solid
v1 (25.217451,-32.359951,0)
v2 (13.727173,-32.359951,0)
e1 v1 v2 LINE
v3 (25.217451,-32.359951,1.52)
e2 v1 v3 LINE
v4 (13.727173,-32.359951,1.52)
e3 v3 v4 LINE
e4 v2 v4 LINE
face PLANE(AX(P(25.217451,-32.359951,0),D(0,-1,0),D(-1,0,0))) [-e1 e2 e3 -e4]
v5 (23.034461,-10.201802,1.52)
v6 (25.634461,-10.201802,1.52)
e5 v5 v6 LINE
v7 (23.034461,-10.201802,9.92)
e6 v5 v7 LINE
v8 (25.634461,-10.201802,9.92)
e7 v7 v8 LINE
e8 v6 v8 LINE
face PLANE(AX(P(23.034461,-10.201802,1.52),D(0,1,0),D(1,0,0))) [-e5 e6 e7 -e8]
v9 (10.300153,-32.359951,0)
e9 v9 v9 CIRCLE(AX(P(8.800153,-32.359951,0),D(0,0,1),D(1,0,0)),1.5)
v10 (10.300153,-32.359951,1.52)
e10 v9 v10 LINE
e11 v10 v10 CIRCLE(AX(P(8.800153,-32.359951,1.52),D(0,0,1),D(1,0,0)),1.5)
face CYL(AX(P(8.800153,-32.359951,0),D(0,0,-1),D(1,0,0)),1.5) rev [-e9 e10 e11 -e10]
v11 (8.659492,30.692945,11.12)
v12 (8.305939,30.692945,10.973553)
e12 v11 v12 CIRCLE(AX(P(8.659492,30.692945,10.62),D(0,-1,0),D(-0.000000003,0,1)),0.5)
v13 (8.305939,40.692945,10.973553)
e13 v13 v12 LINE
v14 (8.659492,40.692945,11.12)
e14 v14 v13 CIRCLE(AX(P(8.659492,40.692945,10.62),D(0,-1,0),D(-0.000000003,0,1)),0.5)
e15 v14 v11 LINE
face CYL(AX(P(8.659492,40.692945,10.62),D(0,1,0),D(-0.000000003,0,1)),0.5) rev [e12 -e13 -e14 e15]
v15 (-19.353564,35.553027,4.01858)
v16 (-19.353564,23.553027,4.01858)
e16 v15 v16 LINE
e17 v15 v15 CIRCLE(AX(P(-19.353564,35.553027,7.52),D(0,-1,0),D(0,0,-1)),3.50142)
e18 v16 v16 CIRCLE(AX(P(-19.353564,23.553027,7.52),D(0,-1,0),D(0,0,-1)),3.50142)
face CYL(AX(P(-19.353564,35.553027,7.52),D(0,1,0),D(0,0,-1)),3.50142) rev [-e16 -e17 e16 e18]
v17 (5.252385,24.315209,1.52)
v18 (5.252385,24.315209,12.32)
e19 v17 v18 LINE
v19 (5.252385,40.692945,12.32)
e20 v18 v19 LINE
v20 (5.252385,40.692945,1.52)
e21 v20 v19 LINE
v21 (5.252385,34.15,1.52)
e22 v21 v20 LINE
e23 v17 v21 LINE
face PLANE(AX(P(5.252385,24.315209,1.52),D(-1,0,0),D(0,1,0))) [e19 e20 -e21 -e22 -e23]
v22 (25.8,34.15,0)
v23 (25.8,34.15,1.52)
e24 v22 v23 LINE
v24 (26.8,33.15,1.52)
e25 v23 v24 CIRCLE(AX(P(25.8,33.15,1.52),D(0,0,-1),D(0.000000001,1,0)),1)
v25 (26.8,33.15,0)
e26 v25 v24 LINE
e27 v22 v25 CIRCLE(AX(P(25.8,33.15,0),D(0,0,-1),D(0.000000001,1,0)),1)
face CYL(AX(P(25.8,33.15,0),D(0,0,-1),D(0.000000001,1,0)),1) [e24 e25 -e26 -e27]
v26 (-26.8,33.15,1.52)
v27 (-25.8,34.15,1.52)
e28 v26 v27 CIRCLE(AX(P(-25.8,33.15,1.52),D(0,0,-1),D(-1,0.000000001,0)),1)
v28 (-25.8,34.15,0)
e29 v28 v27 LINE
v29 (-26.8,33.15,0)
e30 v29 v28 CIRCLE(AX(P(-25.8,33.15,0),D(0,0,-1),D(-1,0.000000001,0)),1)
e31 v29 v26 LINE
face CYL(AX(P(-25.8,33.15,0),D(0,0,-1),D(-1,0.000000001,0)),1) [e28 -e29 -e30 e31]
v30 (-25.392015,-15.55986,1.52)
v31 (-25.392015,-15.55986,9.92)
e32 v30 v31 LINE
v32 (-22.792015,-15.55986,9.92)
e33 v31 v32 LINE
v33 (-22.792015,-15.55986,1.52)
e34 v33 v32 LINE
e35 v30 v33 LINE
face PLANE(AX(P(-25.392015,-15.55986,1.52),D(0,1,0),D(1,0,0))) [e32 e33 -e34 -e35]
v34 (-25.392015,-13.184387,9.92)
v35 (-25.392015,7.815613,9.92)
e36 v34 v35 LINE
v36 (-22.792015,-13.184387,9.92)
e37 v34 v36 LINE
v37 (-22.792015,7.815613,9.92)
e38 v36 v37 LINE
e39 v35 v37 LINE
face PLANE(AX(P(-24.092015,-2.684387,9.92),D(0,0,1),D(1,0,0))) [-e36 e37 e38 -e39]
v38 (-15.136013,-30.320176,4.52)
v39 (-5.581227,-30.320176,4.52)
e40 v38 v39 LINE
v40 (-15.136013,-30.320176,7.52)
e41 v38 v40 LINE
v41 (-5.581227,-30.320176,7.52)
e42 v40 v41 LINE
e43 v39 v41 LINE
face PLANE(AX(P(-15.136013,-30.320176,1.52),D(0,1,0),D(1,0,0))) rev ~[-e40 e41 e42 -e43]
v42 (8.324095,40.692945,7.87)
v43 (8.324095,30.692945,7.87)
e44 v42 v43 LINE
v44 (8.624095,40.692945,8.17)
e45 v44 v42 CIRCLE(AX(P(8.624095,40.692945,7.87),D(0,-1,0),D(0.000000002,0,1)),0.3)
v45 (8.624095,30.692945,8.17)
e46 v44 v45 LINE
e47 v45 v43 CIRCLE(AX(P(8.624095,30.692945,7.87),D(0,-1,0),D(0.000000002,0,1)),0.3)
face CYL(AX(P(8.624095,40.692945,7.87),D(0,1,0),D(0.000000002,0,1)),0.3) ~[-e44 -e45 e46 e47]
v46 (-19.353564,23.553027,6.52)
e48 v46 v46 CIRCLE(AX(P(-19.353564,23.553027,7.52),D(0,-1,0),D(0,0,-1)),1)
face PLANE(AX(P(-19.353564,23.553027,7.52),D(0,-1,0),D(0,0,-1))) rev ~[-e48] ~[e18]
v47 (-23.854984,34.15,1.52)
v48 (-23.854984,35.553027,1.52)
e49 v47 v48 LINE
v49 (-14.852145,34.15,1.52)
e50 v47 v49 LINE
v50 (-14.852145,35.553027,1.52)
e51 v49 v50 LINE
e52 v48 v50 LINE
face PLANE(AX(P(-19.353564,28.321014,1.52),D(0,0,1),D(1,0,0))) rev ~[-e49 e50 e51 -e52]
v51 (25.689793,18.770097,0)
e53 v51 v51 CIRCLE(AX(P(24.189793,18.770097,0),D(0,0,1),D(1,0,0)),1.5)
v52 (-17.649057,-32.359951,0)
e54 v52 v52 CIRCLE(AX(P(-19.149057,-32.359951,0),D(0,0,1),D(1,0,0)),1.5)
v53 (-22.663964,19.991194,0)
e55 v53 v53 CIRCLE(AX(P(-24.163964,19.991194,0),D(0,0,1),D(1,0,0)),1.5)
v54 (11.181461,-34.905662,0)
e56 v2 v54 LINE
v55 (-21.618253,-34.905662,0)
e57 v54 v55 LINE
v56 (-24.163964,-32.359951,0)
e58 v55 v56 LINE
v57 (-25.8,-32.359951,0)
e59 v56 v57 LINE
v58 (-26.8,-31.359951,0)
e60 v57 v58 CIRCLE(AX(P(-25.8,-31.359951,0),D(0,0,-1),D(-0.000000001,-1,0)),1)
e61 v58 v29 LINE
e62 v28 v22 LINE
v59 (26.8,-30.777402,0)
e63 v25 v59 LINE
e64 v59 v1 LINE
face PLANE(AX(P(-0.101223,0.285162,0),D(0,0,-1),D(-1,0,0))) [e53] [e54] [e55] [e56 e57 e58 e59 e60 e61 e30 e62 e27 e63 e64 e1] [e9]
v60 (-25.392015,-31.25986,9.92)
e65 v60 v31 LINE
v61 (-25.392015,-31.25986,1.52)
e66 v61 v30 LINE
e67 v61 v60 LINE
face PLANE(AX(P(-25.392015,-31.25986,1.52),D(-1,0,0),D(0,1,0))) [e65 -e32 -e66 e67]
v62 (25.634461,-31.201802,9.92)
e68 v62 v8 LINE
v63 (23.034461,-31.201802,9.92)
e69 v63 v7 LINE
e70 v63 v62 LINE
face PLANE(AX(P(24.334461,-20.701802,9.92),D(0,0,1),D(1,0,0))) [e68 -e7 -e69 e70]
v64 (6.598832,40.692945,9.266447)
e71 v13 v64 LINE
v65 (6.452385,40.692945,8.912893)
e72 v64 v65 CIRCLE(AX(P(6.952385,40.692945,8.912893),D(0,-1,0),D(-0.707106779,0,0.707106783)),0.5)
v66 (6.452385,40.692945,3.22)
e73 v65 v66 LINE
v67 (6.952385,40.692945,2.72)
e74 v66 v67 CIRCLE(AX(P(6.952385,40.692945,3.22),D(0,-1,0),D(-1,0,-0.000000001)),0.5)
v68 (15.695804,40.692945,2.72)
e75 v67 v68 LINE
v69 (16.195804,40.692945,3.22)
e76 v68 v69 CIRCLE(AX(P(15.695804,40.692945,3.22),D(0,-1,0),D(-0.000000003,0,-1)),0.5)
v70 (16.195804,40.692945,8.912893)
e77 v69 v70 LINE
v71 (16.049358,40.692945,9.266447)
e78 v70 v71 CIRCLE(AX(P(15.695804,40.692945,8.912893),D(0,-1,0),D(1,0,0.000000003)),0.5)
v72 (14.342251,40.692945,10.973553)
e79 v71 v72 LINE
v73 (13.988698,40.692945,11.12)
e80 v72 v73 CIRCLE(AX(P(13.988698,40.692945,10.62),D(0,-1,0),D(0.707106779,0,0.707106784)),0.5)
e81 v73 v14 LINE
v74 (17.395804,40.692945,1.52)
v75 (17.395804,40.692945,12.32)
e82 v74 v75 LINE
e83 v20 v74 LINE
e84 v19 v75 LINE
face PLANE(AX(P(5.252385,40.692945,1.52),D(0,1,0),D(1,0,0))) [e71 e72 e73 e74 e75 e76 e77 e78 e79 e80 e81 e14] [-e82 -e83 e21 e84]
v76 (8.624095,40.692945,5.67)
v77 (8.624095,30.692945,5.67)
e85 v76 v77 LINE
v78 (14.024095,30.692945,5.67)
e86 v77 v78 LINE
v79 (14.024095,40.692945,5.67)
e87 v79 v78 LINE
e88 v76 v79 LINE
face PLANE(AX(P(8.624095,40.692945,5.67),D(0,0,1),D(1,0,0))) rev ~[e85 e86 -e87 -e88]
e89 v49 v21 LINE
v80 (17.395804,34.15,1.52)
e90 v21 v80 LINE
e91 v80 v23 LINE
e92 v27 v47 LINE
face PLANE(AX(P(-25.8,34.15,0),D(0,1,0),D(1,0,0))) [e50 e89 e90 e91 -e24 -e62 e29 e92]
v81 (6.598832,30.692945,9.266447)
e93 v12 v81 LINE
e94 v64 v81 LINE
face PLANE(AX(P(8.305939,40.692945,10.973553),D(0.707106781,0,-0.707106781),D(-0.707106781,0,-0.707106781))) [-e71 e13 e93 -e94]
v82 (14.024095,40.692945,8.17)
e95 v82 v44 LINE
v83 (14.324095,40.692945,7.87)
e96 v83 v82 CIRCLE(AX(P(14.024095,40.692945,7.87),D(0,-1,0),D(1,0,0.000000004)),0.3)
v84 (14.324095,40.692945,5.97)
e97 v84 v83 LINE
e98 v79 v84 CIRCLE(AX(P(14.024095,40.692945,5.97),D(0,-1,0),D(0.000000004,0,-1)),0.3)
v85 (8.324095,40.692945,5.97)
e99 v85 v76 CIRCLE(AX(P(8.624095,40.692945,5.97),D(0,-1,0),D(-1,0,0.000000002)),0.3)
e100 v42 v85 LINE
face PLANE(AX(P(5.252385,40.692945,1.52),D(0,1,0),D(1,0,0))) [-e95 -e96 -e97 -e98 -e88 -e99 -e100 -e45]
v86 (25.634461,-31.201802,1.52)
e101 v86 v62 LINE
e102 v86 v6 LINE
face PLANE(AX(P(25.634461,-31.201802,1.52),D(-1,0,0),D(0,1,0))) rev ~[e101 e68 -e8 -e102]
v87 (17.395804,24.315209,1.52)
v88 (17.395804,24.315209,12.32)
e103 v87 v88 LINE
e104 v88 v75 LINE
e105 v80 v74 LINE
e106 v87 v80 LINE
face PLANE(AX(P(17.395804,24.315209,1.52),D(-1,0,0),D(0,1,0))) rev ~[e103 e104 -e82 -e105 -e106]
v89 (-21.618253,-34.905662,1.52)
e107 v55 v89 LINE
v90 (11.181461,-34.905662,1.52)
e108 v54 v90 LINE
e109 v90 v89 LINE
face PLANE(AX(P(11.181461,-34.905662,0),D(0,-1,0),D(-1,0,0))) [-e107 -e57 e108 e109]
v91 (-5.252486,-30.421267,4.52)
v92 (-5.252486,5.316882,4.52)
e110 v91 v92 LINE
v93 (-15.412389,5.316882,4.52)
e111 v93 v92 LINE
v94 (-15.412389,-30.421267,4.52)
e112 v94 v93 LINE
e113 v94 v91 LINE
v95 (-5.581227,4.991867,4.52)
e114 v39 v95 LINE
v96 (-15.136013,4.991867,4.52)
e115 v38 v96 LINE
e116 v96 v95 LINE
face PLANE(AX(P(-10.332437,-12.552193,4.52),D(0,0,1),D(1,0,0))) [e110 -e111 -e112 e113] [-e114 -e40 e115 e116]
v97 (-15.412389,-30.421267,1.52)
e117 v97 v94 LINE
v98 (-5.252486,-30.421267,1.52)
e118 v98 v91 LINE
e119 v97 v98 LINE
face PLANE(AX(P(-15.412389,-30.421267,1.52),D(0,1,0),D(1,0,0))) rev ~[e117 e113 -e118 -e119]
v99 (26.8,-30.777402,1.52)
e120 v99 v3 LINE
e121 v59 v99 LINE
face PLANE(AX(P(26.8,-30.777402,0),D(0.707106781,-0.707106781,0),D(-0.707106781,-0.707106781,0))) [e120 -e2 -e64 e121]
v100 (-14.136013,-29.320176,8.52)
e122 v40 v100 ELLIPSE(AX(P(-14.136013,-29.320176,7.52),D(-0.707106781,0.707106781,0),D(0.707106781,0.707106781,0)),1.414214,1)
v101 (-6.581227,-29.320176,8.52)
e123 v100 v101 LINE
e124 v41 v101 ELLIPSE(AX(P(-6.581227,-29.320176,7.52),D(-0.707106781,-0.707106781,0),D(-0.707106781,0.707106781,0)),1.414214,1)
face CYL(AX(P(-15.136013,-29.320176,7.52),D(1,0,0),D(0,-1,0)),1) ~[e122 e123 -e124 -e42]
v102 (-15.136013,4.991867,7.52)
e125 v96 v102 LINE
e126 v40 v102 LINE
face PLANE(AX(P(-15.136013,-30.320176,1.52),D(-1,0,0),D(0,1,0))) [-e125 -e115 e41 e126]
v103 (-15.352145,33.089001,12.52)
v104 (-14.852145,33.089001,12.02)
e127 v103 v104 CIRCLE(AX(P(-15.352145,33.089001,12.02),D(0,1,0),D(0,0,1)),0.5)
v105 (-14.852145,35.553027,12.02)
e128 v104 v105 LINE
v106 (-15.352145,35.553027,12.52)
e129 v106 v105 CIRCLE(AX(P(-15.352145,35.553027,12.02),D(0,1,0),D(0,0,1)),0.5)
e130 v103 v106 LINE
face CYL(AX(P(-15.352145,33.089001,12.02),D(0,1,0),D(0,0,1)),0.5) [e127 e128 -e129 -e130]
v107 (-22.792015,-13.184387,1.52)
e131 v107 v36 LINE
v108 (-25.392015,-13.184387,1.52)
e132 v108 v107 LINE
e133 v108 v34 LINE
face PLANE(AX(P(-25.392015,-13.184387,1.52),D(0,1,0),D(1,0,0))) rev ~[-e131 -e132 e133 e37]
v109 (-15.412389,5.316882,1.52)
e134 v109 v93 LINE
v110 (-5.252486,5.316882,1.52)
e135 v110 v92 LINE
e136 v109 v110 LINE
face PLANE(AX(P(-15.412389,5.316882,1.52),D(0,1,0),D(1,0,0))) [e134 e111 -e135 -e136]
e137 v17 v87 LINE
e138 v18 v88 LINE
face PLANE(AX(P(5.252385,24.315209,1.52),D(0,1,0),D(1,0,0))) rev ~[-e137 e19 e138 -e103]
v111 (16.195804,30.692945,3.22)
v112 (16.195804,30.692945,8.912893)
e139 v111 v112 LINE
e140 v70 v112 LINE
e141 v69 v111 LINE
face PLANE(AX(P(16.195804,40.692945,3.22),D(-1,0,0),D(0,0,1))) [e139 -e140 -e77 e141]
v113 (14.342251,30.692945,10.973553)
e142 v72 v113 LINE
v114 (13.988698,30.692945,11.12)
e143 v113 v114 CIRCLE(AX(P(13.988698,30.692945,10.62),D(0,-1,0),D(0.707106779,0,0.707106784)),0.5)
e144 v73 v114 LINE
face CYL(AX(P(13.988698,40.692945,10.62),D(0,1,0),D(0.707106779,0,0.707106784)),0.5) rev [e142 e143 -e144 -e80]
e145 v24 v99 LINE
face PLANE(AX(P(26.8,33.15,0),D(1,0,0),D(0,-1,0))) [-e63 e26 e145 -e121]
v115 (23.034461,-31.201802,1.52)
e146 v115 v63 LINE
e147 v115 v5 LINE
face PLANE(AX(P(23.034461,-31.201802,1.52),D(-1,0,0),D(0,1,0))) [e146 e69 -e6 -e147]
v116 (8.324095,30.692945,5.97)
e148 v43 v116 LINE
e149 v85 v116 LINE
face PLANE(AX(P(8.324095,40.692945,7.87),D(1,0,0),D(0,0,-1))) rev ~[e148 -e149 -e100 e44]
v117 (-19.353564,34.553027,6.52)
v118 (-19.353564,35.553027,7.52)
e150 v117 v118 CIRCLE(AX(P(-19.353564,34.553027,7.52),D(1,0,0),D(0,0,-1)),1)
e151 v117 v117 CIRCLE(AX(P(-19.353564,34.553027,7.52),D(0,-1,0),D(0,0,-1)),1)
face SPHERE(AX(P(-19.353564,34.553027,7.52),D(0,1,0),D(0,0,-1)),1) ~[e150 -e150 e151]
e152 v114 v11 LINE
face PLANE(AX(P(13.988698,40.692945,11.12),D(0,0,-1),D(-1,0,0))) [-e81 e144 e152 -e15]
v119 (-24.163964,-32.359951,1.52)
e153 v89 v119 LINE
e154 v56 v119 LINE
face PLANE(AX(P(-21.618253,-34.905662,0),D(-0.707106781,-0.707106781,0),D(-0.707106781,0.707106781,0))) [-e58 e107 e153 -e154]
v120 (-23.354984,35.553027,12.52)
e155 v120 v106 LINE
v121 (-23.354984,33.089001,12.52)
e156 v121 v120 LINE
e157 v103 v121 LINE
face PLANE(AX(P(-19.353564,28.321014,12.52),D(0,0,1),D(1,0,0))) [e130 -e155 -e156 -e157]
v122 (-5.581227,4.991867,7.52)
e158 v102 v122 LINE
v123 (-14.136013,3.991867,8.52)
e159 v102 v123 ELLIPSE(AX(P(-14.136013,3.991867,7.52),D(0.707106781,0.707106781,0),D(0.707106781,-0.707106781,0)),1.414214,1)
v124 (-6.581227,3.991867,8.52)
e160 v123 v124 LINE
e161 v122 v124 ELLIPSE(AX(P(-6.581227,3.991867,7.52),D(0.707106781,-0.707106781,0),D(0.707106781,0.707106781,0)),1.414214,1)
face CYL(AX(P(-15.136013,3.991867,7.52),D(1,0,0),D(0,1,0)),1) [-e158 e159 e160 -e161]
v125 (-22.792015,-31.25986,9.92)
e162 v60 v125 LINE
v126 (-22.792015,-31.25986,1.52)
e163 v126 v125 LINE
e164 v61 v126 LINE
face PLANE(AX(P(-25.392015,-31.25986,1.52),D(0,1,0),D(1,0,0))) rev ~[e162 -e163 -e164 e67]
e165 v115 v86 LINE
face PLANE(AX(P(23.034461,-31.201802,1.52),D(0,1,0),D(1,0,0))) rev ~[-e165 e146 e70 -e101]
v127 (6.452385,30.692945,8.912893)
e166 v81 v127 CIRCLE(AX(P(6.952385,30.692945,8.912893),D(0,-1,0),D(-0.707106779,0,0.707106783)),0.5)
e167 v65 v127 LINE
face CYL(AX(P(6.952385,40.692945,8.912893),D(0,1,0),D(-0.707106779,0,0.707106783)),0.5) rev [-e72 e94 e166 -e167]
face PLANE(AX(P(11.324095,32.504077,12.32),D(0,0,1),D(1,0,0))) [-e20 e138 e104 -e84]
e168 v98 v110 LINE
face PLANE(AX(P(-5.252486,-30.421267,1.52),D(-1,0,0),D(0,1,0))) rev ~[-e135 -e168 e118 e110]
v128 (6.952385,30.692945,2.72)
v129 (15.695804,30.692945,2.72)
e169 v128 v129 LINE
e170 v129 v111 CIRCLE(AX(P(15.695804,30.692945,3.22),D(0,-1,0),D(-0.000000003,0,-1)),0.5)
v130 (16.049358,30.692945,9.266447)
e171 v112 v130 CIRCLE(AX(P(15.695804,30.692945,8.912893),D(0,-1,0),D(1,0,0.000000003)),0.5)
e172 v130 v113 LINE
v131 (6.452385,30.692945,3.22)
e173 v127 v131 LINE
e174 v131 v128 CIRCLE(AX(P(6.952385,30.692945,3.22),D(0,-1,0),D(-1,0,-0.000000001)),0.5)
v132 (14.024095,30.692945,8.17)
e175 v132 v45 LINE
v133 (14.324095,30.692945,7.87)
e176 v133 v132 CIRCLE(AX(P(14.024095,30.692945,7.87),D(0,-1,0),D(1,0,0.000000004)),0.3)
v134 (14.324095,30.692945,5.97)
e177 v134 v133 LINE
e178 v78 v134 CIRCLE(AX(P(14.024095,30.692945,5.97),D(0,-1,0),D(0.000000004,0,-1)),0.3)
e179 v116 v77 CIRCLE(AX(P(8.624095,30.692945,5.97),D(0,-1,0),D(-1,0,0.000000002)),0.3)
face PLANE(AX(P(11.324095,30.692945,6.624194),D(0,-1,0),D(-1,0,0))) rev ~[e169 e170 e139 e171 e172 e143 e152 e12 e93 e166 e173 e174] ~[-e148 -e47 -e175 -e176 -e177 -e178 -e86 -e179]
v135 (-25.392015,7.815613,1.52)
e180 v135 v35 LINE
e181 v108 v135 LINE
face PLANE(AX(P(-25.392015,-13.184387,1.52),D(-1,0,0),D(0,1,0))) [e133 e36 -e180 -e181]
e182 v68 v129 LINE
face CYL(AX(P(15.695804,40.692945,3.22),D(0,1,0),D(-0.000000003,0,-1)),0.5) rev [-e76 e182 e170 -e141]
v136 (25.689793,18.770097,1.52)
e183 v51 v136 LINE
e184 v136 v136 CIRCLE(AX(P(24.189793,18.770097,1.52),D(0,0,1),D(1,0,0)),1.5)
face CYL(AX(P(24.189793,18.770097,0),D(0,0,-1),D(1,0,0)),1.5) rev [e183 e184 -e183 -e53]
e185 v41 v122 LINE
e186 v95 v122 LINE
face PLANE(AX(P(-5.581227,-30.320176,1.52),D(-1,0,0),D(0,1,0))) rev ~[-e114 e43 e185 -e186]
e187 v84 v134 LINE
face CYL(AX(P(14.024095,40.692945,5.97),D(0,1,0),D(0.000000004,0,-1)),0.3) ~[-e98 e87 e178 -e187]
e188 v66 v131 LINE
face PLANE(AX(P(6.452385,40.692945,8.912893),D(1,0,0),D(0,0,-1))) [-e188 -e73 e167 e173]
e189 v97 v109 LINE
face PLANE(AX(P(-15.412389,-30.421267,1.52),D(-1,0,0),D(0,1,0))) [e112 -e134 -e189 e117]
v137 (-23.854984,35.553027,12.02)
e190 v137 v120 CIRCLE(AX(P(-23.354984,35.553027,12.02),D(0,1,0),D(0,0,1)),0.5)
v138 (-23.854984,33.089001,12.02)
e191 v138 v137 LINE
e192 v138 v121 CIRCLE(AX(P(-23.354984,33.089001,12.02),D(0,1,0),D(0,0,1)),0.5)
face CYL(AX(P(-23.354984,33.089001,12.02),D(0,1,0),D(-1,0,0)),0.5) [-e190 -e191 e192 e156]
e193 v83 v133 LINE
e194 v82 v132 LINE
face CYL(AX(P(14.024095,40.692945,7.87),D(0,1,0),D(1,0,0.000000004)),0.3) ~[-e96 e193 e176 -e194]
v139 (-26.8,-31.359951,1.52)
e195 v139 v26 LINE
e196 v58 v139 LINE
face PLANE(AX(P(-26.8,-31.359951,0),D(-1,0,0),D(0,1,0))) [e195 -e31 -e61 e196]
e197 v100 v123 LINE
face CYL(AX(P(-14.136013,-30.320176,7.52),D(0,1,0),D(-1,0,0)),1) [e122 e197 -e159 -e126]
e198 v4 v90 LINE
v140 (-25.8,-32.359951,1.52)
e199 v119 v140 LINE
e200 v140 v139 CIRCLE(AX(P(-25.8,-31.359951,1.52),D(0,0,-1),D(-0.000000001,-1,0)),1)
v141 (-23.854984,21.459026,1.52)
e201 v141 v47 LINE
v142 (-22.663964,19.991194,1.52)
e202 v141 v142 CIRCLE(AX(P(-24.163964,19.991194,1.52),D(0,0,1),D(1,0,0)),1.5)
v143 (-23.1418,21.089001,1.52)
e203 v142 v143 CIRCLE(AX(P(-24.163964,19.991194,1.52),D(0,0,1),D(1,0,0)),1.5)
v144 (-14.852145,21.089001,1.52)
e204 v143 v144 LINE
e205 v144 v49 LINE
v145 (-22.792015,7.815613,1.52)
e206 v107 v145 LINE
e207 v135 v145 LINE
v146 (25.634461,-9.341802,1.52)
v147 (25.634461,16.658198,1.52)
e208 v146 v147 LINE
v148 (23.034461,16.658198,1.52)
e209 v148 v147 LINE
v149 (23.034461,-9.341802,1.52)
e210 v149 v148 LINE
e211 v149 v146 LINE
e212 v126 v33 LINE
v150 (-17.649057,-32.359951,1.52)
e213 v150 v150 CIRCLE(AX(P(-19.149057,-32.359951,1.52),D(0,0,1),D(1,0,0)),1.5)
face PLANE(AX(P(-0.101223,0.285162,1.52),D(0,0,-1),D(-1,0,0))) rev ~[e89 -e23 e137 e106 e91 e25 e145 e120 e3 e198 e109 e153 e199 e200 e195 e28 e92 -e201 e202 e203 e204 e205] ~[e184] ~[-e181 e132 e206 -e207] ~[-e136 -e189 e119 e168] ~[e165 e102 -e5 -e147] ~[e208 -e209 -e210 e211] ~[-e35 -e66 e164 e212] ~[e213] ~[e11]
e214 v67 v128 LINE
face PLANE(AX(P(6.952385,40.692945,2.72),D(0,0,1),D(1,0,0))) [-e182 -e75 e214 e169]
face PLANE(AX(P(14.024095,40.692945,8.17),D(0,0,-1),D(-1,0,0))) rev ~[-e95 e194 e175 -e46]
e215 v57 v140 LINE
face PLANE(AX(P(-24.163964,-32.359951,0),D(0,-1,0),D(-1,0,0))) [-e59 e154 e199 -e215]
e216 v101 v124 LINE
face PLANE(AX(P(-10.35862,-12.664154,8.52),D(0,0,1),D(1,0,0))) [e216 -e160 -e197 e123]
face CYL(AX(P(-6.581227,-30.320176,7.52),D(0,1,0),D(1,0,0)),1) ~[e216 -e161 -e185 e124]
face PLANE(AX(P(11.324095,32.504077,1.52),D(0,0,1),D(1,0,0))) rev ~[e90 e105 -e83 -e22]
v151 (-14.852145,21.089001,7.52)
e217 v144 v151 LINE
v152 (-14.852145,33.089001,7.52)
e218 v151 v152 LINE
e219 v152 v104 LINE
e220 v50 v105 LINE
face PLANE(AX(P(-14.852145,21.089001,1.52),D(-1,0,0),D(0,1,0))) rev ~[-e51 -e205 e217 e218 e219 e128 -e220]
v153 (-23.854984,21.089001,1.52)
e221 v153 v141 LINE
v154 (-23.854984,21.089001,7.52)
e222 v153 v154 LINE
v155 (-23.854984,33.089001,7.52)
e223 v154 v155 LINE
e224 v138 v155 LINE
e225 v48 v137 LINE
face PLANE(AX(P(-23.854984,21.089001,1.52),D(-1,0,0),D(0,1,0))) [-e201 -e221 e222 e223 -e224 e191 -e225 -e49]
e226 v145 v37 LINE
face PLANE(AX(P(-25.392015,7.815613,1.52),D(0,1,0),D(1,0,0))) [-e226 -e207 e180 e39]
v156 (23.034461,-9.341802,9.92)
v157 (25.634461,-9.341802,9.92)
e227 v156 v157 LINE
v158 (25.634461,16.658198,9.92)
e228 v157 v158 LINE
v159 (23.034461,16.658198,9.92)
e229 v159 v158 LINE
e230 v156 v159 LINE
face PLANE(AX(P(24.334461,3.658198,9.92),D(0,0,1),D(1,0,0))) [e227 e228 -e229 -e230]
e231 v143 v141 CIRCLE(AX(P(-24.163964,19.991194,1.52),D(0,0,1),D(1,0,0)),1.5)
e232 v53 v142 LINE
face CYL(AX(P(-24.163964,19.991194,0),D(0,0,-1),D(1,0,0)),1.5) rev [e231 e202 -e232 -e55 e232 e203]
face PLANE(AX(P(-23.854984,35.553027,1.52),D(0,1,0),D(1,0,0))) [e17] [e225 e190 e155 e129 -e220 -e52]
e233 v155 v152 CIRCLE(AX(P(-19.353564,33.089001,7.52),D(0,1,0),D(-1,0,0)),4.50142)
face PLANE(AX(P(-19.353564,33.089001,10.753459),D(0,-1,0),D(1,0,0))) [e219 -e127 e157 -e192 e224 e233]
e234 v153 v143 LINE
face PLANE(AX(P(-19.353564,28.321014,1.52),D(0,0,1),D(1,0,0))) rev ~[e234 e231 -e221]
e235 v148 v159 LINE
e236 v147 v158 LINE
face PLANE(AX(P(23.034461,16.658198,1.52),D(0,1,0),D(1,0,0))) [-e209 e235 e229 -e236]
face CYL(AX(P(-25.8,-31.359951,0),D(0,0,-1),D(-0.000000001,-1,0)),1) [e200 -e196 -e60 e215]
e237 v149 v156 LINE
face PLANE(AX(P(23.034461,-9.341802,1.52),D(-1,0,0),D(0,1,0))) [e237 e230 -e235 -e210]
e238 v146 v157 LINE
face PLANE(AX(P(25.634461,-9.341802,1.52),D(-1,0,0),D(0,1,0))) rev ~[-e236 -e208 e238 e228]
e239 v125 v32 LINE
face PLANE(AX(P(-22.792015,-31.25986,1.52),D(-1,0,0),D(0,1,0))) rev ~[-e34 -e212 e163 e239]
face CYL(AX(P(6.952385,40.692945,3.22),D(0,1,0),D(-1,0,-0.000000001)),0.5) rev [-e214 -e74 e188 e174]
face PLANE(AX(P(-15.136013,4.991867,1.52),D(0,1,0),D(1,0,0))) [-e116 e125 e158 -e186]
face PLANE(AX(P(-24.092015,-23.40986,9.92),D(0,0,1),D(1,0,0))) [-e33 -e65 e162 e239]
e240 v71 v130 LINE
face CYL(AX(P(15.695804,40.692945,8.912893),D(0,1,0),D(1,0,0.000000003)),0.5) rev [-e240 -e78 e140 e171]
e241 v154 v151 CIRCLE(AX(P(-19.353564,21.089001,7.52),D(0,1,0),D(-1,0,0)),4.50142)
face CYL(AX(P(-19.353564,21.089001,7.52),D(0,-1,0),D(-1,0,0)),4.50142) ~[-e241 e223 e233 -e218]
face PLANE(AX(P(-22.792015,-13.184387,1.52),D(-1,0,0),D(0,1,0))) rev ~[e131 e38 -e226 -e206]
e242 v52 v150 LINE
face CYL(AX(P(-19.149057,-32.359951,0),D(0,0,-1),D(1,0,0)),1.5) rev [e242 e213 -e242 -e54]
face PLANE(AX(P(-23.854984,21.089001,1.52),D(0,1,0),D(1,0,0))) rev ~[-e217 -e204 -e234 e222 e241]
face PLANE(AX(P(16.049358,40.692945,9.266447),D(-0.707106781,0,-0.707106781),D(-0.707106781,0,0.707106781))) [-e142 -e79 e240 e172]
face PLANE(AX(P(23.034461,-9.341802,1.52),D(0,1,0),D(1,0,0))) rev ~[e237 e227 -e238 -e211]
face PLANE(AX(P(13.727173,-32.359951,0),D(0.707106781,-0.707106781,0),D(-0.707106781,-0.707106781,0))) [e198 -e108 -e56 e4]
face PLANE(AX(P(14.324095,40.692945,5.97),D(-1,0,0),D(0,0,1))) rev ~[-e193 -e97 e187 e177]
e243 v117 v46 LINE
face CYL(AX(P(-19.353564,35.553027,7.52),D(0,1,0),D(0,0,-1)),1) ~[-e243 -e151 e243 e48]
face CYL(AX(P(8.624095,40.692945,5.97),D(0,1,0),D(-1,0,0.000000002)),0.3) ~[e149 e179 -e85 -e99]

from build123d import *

# Parameters (mm, degrees)
ESBO_O2_R                = 1.5
RESSALTO_EXTRUS_O1_DEPTH = 1.52
ESBO_O3_W                = 9.002839431
ESBO_O3_H                = 14.464026403
RESSALTO_EXTRUS_O2_DEPTH = 11
ESBO_O4_W                = 2.6
ESBO_O4_H                = 21
ESBO_O4_H_2              = 26
ESBO_O4_H_3              = 15.7
RESSALTO_EXTRUS_O3_DEPTH = 8.4
CORTE_EXTRUS_O1_DEPTH    = 12
ESBO_O6_R                = 3.501419715
ESBO_O6_R_2              = 1
CORTE_EXTRUS_O2_DEPTH    = 12
FILETE1_R                = 1
FILETE2_R                = 0.5
ESBO_O7_W                = 12.143418905
ESBO_O7_H                = 16.377735741
RESSALTO_EXTRUS_O4_DEPTH = 10.8
CORTE_EXTRUS_O3_DEPTH    = 10
ESBO_O10_W               = 9.554785471
ESBO_O10_H               = 35.312042965
RESSALTO_EXTRUS_O5_DEPTH = 7
FILETE3_R                = 1
ESBO_O11_W               = 10.159902464
ESBO_O11_H               = 35.738148994
RESSALTO_EXTRUS_O6_DEPTH = 3


with BuildPart() as part:
    # Esboço2 → Ressalto-extrusão1 (new body)
    with BuildSketch(Plane.XY):
        with BuildLine():
            Line((26.8, -30.777402322), (25.217451408, -32.359950915))
            Line((25.217451408, -32.359950915), (13.7271729, -32.359950915))
            Line((13.7271729, -32.359950915), (11.181461411, -34.905662403))
            Line((11.181461411, -34.905662403), (-21.61825292, -34.905662403))
            Line((-21.61825292, -34.905662403), (-24.163964409, -32.359950915))
            Line((-24.163964409, -32.359950915), (-25.8, -32.359950915))
            ThreePointArc((-25.8, -32.359950915), (-26.507106781, -32.067057696), (-26.8, -31.359950915))
            Line((-26.8, -31.359950915), (-26.8, 33.15))
            ThreePointArc((-26.8, 33.15), (-26.507106781, 33.857106781), (-25.8, 34.15))
            Line((-25.8, 34.15), (25.8, 34.15))
            ThreePointArc((25.8, 34.15), (26.507106781, 33.857106781), (26.8, 33.15))
            Line((26.8, 33.15), (26.8, -30.777402322))
        make_face()
        with Locations((24.189792897, 18.770096718)):
            Circle(ESBO_O2_R, mode=Mode.SUBTRACT)
        with Locations((-24.163964409, 19.991194307)):
            Circle(ESBO_O2_R, mode=Mode.SUBTRACT)
        with Locations((-19.149057151, -32.359950915)):
            Circle(ESBO_O2_R, mode=Mode.SUBTRACT)
        with Locations((8.800152978, -32.359950915)):
            Circle(ESBO_O2_R, mode=Mode.SUBTRACT)
    extrude(amount=RESSALTO_EXTRUS_O1_DEPTH)

    # Esboço3 → Ressalto-extrusão2 (add)
    with BuildSketch(Plane.XY.offset(1.52)):
        with Locations((-19.353564393, 28.321014274)):
            Rectangle(ESBO_O3_W, ESBO_O3_H)
    extrude(amount=RESSALTO_EXTRUS_O2_DEPTH)

    # Esboço4 → Ressalto-extrusão3 (add)
    with BuildSketch(Plane.XY.offset(1.52)):
        with Locations((24.334460994, -20.701802403)):
            Rectangle(ESBO_O4_W, ESBO_O4_H)
        with Locations((24.334460994, 3.658197597)):
            Rectangle(ESBO_O4_W, ESBO_O4_H_2)
        with Locations((-24.092015344, -2.684387248)):
            Rectangle(ESBO_O4_W, ESBO_O4_H)
        with Locations((-24.092015344, -23.409860345)):
            Rectangle(ESBO_O4_W, ESBO_O4_H_3)
    extrude(amount=RESSALTO_EXTRUS_O3_DEPTH)

    # Esboço5 → Corte-extrusão1 (cut)
    with BuildSketch(Plane.XZ.offset(-21.089001072)):
        with BuildLine():
            Line((-14.852144677, 7.52), (-14.852144677, 12.52))
            Line((-14.852144677, 12.52), (-23.854984108, 12.52))
            Line((-23.854984108, 12.52), (-23.854984108, 7.52))
            ThreePointArc((-23.854984108, 7.52), (-19.353564393, 12.021419715), (-14.852144677, 7.52))
        make_face()
    extrude(amount=-CORTE_EXTRUS_O1_DEPTH, mode=Mode.SUBTRACT)

    # Esboço6 → Corte-extrusão2 (cut)
    with BuildSketch(Plane.XZ.offset(-35.553027475)):
        with Locations(Location((-19.353564393, 7.52, 0), (0, 0, 270))):
            Circle(ESBO_O6_R)
        with Locations(Location((-19.353564393, 7.52, 0), (0, 0, 270))):
            Circle(ESBO_O6_R_2, mode=Mode.SUBTRACT)
    extrude(amount=CORTE_EXTRUS_O2_DEPTH, mode=Mode.SUBTRACT)

    # Filete1
    filete1_edges = [part.edges().sort_by_distance(p)[0] for p in [
        (-19.353564393, 35.553027475, 8.52),
    ]]
    fillet(filete1_edges, radius=FILETE1_R)

    # Filete2
    filete2_edges = [part.edges().sort_by_distance(p)[0] for p in [
        (-14.852144677, 34.321014274, 12.52),
        (-23.854984108, 34.321014274, 12.52),
    ]]
    fillet(filete2_edges, radius=FILETE2_R)

    # Esboço7 → Ressalto-extrusão4 (add)
    with BuildSketch(Plane.XY.offset(1.52)):
        with Locations((11.324094847, 32.5040773)):
            Rectangle(ESBO_O7_W, ESBO_O7_H)
    extrude(amount=RESSALTO_EXTRUS_O4_DEPTH)

    # Esboço9 → Corte-extrusão3 (cut)
    with BuildSketch(Plane(origin=(0, 40.69294517, 0), x_dir=(1, 0, 0), z_dir=(0, 1, 0))):
        with BuildLine():
            Line((6.952385394, -2.72), (15.695804299, -2.72))
            ThreePointArc((15.695804299, -2.72), (16.04935769, -2.866446609), (16.195804299, -3.22))
            Line((16.195804299, -3.22), (16.195804299, -8.912893219))
            ThreePointArc((16.195804299, -8.912893219), (16.157744065, -9.104234935), (16.04935769, -9.266446609))
            Line((16.04935769, -9.266446609), (14.342250908, -10.973553391))
            ThreePointArc((14.342250908, -10.973553391), (14.180039234, -11.081939766), (13.988697518, -11.12))
            Line((13.988697518, -11.12), (8.659492175, -11.12))
            ThreePointArc((8.659492175, -11.12), (8.468150459, -11.081939766), (8.305938785, -10.973553391))
            Line((8.305938785, -10.973553391), (6.598832004, -9.266446609))
            ThreePointArc((6.598832004, -9.266446609), (6.490445628, -9.104234935), (6.452385394, -8.912893219))
            Line((6.452385394, -8.912893219), (6.452385394, -3.22))
            ThreePointArc((6.452385394, -3.22), (6.598832004, -2.866446609), (6.952385394, -2.72))
        make_face()
        with BuildLine():
            Line((14.024094847, -8.17), (8.624094847, -8.17))
            ThreePointArc((8.624094847, -8.17), (8.411962812, -8.082132034), (8.324094847, -7.87))
            Line((8.324094847, -7.87), (8.324094847, -5.97))
            ThreePointArc((8.324094847, -5.97), (8.411962812, -5.757867966), (8.624094847, -5.67))
            Line((8.624094847, -5.67), (14.024094847, -5.67))
            ThreePointArc((14.024094847, -5.67), (14.236226881, -5.757867966), (14.324094847, -5.97))
            Line((14.324094847, -5.97), (14.324094847, -7.87))
            ThreePointArc((14.324094847, -7.87), (14.236226881, -8.082132034), (14.024094847, -8.17))
        make_face(mode=Mode.SUBTRACT)
    extrude(amount=-CORTE_EXTRUS_O3_DEPTH, mode=Mode.SUBTRACT)

    # Esboço10 → Ressalto-extrusão5 (add)
    with BuildSketch(Plane.XY.offset(1.52)):
        with Locations((-10.358620196, -12.664154249)):
            Rectangle(ESBO_O10_W, ESBO_O10_H)
    extrude(amount=RESSALTO_EXTRUS_O5_DEPTH)

    # Filete3
    filete3_edges = [part.edges().sort_by_distance(p)[0] for p in [
        (-5.58122746, -12.664154249, 8.52),
        (-10.358620195, 4.991867234, 8.52),
        (-15.136012931, -12.664154249, 8.52),
        (-10.358620195, -30.320175731, 8.52),
    ]]
    fillet(filete3_edges, radius=FILETE3_R)

    # Esboço11 → Ressalto-extrusão6 (add)
    with BuildSketch(Plane.XY.offset(1.52)):
        with Locations((-10.332437347, -12.5521927)):
            Rectangle(ESBO_O11_W, ESBO_O11_H)
    extrude(amount=RESSALTO_EXTRUS_O6_DEPTH)


solid = part.part
